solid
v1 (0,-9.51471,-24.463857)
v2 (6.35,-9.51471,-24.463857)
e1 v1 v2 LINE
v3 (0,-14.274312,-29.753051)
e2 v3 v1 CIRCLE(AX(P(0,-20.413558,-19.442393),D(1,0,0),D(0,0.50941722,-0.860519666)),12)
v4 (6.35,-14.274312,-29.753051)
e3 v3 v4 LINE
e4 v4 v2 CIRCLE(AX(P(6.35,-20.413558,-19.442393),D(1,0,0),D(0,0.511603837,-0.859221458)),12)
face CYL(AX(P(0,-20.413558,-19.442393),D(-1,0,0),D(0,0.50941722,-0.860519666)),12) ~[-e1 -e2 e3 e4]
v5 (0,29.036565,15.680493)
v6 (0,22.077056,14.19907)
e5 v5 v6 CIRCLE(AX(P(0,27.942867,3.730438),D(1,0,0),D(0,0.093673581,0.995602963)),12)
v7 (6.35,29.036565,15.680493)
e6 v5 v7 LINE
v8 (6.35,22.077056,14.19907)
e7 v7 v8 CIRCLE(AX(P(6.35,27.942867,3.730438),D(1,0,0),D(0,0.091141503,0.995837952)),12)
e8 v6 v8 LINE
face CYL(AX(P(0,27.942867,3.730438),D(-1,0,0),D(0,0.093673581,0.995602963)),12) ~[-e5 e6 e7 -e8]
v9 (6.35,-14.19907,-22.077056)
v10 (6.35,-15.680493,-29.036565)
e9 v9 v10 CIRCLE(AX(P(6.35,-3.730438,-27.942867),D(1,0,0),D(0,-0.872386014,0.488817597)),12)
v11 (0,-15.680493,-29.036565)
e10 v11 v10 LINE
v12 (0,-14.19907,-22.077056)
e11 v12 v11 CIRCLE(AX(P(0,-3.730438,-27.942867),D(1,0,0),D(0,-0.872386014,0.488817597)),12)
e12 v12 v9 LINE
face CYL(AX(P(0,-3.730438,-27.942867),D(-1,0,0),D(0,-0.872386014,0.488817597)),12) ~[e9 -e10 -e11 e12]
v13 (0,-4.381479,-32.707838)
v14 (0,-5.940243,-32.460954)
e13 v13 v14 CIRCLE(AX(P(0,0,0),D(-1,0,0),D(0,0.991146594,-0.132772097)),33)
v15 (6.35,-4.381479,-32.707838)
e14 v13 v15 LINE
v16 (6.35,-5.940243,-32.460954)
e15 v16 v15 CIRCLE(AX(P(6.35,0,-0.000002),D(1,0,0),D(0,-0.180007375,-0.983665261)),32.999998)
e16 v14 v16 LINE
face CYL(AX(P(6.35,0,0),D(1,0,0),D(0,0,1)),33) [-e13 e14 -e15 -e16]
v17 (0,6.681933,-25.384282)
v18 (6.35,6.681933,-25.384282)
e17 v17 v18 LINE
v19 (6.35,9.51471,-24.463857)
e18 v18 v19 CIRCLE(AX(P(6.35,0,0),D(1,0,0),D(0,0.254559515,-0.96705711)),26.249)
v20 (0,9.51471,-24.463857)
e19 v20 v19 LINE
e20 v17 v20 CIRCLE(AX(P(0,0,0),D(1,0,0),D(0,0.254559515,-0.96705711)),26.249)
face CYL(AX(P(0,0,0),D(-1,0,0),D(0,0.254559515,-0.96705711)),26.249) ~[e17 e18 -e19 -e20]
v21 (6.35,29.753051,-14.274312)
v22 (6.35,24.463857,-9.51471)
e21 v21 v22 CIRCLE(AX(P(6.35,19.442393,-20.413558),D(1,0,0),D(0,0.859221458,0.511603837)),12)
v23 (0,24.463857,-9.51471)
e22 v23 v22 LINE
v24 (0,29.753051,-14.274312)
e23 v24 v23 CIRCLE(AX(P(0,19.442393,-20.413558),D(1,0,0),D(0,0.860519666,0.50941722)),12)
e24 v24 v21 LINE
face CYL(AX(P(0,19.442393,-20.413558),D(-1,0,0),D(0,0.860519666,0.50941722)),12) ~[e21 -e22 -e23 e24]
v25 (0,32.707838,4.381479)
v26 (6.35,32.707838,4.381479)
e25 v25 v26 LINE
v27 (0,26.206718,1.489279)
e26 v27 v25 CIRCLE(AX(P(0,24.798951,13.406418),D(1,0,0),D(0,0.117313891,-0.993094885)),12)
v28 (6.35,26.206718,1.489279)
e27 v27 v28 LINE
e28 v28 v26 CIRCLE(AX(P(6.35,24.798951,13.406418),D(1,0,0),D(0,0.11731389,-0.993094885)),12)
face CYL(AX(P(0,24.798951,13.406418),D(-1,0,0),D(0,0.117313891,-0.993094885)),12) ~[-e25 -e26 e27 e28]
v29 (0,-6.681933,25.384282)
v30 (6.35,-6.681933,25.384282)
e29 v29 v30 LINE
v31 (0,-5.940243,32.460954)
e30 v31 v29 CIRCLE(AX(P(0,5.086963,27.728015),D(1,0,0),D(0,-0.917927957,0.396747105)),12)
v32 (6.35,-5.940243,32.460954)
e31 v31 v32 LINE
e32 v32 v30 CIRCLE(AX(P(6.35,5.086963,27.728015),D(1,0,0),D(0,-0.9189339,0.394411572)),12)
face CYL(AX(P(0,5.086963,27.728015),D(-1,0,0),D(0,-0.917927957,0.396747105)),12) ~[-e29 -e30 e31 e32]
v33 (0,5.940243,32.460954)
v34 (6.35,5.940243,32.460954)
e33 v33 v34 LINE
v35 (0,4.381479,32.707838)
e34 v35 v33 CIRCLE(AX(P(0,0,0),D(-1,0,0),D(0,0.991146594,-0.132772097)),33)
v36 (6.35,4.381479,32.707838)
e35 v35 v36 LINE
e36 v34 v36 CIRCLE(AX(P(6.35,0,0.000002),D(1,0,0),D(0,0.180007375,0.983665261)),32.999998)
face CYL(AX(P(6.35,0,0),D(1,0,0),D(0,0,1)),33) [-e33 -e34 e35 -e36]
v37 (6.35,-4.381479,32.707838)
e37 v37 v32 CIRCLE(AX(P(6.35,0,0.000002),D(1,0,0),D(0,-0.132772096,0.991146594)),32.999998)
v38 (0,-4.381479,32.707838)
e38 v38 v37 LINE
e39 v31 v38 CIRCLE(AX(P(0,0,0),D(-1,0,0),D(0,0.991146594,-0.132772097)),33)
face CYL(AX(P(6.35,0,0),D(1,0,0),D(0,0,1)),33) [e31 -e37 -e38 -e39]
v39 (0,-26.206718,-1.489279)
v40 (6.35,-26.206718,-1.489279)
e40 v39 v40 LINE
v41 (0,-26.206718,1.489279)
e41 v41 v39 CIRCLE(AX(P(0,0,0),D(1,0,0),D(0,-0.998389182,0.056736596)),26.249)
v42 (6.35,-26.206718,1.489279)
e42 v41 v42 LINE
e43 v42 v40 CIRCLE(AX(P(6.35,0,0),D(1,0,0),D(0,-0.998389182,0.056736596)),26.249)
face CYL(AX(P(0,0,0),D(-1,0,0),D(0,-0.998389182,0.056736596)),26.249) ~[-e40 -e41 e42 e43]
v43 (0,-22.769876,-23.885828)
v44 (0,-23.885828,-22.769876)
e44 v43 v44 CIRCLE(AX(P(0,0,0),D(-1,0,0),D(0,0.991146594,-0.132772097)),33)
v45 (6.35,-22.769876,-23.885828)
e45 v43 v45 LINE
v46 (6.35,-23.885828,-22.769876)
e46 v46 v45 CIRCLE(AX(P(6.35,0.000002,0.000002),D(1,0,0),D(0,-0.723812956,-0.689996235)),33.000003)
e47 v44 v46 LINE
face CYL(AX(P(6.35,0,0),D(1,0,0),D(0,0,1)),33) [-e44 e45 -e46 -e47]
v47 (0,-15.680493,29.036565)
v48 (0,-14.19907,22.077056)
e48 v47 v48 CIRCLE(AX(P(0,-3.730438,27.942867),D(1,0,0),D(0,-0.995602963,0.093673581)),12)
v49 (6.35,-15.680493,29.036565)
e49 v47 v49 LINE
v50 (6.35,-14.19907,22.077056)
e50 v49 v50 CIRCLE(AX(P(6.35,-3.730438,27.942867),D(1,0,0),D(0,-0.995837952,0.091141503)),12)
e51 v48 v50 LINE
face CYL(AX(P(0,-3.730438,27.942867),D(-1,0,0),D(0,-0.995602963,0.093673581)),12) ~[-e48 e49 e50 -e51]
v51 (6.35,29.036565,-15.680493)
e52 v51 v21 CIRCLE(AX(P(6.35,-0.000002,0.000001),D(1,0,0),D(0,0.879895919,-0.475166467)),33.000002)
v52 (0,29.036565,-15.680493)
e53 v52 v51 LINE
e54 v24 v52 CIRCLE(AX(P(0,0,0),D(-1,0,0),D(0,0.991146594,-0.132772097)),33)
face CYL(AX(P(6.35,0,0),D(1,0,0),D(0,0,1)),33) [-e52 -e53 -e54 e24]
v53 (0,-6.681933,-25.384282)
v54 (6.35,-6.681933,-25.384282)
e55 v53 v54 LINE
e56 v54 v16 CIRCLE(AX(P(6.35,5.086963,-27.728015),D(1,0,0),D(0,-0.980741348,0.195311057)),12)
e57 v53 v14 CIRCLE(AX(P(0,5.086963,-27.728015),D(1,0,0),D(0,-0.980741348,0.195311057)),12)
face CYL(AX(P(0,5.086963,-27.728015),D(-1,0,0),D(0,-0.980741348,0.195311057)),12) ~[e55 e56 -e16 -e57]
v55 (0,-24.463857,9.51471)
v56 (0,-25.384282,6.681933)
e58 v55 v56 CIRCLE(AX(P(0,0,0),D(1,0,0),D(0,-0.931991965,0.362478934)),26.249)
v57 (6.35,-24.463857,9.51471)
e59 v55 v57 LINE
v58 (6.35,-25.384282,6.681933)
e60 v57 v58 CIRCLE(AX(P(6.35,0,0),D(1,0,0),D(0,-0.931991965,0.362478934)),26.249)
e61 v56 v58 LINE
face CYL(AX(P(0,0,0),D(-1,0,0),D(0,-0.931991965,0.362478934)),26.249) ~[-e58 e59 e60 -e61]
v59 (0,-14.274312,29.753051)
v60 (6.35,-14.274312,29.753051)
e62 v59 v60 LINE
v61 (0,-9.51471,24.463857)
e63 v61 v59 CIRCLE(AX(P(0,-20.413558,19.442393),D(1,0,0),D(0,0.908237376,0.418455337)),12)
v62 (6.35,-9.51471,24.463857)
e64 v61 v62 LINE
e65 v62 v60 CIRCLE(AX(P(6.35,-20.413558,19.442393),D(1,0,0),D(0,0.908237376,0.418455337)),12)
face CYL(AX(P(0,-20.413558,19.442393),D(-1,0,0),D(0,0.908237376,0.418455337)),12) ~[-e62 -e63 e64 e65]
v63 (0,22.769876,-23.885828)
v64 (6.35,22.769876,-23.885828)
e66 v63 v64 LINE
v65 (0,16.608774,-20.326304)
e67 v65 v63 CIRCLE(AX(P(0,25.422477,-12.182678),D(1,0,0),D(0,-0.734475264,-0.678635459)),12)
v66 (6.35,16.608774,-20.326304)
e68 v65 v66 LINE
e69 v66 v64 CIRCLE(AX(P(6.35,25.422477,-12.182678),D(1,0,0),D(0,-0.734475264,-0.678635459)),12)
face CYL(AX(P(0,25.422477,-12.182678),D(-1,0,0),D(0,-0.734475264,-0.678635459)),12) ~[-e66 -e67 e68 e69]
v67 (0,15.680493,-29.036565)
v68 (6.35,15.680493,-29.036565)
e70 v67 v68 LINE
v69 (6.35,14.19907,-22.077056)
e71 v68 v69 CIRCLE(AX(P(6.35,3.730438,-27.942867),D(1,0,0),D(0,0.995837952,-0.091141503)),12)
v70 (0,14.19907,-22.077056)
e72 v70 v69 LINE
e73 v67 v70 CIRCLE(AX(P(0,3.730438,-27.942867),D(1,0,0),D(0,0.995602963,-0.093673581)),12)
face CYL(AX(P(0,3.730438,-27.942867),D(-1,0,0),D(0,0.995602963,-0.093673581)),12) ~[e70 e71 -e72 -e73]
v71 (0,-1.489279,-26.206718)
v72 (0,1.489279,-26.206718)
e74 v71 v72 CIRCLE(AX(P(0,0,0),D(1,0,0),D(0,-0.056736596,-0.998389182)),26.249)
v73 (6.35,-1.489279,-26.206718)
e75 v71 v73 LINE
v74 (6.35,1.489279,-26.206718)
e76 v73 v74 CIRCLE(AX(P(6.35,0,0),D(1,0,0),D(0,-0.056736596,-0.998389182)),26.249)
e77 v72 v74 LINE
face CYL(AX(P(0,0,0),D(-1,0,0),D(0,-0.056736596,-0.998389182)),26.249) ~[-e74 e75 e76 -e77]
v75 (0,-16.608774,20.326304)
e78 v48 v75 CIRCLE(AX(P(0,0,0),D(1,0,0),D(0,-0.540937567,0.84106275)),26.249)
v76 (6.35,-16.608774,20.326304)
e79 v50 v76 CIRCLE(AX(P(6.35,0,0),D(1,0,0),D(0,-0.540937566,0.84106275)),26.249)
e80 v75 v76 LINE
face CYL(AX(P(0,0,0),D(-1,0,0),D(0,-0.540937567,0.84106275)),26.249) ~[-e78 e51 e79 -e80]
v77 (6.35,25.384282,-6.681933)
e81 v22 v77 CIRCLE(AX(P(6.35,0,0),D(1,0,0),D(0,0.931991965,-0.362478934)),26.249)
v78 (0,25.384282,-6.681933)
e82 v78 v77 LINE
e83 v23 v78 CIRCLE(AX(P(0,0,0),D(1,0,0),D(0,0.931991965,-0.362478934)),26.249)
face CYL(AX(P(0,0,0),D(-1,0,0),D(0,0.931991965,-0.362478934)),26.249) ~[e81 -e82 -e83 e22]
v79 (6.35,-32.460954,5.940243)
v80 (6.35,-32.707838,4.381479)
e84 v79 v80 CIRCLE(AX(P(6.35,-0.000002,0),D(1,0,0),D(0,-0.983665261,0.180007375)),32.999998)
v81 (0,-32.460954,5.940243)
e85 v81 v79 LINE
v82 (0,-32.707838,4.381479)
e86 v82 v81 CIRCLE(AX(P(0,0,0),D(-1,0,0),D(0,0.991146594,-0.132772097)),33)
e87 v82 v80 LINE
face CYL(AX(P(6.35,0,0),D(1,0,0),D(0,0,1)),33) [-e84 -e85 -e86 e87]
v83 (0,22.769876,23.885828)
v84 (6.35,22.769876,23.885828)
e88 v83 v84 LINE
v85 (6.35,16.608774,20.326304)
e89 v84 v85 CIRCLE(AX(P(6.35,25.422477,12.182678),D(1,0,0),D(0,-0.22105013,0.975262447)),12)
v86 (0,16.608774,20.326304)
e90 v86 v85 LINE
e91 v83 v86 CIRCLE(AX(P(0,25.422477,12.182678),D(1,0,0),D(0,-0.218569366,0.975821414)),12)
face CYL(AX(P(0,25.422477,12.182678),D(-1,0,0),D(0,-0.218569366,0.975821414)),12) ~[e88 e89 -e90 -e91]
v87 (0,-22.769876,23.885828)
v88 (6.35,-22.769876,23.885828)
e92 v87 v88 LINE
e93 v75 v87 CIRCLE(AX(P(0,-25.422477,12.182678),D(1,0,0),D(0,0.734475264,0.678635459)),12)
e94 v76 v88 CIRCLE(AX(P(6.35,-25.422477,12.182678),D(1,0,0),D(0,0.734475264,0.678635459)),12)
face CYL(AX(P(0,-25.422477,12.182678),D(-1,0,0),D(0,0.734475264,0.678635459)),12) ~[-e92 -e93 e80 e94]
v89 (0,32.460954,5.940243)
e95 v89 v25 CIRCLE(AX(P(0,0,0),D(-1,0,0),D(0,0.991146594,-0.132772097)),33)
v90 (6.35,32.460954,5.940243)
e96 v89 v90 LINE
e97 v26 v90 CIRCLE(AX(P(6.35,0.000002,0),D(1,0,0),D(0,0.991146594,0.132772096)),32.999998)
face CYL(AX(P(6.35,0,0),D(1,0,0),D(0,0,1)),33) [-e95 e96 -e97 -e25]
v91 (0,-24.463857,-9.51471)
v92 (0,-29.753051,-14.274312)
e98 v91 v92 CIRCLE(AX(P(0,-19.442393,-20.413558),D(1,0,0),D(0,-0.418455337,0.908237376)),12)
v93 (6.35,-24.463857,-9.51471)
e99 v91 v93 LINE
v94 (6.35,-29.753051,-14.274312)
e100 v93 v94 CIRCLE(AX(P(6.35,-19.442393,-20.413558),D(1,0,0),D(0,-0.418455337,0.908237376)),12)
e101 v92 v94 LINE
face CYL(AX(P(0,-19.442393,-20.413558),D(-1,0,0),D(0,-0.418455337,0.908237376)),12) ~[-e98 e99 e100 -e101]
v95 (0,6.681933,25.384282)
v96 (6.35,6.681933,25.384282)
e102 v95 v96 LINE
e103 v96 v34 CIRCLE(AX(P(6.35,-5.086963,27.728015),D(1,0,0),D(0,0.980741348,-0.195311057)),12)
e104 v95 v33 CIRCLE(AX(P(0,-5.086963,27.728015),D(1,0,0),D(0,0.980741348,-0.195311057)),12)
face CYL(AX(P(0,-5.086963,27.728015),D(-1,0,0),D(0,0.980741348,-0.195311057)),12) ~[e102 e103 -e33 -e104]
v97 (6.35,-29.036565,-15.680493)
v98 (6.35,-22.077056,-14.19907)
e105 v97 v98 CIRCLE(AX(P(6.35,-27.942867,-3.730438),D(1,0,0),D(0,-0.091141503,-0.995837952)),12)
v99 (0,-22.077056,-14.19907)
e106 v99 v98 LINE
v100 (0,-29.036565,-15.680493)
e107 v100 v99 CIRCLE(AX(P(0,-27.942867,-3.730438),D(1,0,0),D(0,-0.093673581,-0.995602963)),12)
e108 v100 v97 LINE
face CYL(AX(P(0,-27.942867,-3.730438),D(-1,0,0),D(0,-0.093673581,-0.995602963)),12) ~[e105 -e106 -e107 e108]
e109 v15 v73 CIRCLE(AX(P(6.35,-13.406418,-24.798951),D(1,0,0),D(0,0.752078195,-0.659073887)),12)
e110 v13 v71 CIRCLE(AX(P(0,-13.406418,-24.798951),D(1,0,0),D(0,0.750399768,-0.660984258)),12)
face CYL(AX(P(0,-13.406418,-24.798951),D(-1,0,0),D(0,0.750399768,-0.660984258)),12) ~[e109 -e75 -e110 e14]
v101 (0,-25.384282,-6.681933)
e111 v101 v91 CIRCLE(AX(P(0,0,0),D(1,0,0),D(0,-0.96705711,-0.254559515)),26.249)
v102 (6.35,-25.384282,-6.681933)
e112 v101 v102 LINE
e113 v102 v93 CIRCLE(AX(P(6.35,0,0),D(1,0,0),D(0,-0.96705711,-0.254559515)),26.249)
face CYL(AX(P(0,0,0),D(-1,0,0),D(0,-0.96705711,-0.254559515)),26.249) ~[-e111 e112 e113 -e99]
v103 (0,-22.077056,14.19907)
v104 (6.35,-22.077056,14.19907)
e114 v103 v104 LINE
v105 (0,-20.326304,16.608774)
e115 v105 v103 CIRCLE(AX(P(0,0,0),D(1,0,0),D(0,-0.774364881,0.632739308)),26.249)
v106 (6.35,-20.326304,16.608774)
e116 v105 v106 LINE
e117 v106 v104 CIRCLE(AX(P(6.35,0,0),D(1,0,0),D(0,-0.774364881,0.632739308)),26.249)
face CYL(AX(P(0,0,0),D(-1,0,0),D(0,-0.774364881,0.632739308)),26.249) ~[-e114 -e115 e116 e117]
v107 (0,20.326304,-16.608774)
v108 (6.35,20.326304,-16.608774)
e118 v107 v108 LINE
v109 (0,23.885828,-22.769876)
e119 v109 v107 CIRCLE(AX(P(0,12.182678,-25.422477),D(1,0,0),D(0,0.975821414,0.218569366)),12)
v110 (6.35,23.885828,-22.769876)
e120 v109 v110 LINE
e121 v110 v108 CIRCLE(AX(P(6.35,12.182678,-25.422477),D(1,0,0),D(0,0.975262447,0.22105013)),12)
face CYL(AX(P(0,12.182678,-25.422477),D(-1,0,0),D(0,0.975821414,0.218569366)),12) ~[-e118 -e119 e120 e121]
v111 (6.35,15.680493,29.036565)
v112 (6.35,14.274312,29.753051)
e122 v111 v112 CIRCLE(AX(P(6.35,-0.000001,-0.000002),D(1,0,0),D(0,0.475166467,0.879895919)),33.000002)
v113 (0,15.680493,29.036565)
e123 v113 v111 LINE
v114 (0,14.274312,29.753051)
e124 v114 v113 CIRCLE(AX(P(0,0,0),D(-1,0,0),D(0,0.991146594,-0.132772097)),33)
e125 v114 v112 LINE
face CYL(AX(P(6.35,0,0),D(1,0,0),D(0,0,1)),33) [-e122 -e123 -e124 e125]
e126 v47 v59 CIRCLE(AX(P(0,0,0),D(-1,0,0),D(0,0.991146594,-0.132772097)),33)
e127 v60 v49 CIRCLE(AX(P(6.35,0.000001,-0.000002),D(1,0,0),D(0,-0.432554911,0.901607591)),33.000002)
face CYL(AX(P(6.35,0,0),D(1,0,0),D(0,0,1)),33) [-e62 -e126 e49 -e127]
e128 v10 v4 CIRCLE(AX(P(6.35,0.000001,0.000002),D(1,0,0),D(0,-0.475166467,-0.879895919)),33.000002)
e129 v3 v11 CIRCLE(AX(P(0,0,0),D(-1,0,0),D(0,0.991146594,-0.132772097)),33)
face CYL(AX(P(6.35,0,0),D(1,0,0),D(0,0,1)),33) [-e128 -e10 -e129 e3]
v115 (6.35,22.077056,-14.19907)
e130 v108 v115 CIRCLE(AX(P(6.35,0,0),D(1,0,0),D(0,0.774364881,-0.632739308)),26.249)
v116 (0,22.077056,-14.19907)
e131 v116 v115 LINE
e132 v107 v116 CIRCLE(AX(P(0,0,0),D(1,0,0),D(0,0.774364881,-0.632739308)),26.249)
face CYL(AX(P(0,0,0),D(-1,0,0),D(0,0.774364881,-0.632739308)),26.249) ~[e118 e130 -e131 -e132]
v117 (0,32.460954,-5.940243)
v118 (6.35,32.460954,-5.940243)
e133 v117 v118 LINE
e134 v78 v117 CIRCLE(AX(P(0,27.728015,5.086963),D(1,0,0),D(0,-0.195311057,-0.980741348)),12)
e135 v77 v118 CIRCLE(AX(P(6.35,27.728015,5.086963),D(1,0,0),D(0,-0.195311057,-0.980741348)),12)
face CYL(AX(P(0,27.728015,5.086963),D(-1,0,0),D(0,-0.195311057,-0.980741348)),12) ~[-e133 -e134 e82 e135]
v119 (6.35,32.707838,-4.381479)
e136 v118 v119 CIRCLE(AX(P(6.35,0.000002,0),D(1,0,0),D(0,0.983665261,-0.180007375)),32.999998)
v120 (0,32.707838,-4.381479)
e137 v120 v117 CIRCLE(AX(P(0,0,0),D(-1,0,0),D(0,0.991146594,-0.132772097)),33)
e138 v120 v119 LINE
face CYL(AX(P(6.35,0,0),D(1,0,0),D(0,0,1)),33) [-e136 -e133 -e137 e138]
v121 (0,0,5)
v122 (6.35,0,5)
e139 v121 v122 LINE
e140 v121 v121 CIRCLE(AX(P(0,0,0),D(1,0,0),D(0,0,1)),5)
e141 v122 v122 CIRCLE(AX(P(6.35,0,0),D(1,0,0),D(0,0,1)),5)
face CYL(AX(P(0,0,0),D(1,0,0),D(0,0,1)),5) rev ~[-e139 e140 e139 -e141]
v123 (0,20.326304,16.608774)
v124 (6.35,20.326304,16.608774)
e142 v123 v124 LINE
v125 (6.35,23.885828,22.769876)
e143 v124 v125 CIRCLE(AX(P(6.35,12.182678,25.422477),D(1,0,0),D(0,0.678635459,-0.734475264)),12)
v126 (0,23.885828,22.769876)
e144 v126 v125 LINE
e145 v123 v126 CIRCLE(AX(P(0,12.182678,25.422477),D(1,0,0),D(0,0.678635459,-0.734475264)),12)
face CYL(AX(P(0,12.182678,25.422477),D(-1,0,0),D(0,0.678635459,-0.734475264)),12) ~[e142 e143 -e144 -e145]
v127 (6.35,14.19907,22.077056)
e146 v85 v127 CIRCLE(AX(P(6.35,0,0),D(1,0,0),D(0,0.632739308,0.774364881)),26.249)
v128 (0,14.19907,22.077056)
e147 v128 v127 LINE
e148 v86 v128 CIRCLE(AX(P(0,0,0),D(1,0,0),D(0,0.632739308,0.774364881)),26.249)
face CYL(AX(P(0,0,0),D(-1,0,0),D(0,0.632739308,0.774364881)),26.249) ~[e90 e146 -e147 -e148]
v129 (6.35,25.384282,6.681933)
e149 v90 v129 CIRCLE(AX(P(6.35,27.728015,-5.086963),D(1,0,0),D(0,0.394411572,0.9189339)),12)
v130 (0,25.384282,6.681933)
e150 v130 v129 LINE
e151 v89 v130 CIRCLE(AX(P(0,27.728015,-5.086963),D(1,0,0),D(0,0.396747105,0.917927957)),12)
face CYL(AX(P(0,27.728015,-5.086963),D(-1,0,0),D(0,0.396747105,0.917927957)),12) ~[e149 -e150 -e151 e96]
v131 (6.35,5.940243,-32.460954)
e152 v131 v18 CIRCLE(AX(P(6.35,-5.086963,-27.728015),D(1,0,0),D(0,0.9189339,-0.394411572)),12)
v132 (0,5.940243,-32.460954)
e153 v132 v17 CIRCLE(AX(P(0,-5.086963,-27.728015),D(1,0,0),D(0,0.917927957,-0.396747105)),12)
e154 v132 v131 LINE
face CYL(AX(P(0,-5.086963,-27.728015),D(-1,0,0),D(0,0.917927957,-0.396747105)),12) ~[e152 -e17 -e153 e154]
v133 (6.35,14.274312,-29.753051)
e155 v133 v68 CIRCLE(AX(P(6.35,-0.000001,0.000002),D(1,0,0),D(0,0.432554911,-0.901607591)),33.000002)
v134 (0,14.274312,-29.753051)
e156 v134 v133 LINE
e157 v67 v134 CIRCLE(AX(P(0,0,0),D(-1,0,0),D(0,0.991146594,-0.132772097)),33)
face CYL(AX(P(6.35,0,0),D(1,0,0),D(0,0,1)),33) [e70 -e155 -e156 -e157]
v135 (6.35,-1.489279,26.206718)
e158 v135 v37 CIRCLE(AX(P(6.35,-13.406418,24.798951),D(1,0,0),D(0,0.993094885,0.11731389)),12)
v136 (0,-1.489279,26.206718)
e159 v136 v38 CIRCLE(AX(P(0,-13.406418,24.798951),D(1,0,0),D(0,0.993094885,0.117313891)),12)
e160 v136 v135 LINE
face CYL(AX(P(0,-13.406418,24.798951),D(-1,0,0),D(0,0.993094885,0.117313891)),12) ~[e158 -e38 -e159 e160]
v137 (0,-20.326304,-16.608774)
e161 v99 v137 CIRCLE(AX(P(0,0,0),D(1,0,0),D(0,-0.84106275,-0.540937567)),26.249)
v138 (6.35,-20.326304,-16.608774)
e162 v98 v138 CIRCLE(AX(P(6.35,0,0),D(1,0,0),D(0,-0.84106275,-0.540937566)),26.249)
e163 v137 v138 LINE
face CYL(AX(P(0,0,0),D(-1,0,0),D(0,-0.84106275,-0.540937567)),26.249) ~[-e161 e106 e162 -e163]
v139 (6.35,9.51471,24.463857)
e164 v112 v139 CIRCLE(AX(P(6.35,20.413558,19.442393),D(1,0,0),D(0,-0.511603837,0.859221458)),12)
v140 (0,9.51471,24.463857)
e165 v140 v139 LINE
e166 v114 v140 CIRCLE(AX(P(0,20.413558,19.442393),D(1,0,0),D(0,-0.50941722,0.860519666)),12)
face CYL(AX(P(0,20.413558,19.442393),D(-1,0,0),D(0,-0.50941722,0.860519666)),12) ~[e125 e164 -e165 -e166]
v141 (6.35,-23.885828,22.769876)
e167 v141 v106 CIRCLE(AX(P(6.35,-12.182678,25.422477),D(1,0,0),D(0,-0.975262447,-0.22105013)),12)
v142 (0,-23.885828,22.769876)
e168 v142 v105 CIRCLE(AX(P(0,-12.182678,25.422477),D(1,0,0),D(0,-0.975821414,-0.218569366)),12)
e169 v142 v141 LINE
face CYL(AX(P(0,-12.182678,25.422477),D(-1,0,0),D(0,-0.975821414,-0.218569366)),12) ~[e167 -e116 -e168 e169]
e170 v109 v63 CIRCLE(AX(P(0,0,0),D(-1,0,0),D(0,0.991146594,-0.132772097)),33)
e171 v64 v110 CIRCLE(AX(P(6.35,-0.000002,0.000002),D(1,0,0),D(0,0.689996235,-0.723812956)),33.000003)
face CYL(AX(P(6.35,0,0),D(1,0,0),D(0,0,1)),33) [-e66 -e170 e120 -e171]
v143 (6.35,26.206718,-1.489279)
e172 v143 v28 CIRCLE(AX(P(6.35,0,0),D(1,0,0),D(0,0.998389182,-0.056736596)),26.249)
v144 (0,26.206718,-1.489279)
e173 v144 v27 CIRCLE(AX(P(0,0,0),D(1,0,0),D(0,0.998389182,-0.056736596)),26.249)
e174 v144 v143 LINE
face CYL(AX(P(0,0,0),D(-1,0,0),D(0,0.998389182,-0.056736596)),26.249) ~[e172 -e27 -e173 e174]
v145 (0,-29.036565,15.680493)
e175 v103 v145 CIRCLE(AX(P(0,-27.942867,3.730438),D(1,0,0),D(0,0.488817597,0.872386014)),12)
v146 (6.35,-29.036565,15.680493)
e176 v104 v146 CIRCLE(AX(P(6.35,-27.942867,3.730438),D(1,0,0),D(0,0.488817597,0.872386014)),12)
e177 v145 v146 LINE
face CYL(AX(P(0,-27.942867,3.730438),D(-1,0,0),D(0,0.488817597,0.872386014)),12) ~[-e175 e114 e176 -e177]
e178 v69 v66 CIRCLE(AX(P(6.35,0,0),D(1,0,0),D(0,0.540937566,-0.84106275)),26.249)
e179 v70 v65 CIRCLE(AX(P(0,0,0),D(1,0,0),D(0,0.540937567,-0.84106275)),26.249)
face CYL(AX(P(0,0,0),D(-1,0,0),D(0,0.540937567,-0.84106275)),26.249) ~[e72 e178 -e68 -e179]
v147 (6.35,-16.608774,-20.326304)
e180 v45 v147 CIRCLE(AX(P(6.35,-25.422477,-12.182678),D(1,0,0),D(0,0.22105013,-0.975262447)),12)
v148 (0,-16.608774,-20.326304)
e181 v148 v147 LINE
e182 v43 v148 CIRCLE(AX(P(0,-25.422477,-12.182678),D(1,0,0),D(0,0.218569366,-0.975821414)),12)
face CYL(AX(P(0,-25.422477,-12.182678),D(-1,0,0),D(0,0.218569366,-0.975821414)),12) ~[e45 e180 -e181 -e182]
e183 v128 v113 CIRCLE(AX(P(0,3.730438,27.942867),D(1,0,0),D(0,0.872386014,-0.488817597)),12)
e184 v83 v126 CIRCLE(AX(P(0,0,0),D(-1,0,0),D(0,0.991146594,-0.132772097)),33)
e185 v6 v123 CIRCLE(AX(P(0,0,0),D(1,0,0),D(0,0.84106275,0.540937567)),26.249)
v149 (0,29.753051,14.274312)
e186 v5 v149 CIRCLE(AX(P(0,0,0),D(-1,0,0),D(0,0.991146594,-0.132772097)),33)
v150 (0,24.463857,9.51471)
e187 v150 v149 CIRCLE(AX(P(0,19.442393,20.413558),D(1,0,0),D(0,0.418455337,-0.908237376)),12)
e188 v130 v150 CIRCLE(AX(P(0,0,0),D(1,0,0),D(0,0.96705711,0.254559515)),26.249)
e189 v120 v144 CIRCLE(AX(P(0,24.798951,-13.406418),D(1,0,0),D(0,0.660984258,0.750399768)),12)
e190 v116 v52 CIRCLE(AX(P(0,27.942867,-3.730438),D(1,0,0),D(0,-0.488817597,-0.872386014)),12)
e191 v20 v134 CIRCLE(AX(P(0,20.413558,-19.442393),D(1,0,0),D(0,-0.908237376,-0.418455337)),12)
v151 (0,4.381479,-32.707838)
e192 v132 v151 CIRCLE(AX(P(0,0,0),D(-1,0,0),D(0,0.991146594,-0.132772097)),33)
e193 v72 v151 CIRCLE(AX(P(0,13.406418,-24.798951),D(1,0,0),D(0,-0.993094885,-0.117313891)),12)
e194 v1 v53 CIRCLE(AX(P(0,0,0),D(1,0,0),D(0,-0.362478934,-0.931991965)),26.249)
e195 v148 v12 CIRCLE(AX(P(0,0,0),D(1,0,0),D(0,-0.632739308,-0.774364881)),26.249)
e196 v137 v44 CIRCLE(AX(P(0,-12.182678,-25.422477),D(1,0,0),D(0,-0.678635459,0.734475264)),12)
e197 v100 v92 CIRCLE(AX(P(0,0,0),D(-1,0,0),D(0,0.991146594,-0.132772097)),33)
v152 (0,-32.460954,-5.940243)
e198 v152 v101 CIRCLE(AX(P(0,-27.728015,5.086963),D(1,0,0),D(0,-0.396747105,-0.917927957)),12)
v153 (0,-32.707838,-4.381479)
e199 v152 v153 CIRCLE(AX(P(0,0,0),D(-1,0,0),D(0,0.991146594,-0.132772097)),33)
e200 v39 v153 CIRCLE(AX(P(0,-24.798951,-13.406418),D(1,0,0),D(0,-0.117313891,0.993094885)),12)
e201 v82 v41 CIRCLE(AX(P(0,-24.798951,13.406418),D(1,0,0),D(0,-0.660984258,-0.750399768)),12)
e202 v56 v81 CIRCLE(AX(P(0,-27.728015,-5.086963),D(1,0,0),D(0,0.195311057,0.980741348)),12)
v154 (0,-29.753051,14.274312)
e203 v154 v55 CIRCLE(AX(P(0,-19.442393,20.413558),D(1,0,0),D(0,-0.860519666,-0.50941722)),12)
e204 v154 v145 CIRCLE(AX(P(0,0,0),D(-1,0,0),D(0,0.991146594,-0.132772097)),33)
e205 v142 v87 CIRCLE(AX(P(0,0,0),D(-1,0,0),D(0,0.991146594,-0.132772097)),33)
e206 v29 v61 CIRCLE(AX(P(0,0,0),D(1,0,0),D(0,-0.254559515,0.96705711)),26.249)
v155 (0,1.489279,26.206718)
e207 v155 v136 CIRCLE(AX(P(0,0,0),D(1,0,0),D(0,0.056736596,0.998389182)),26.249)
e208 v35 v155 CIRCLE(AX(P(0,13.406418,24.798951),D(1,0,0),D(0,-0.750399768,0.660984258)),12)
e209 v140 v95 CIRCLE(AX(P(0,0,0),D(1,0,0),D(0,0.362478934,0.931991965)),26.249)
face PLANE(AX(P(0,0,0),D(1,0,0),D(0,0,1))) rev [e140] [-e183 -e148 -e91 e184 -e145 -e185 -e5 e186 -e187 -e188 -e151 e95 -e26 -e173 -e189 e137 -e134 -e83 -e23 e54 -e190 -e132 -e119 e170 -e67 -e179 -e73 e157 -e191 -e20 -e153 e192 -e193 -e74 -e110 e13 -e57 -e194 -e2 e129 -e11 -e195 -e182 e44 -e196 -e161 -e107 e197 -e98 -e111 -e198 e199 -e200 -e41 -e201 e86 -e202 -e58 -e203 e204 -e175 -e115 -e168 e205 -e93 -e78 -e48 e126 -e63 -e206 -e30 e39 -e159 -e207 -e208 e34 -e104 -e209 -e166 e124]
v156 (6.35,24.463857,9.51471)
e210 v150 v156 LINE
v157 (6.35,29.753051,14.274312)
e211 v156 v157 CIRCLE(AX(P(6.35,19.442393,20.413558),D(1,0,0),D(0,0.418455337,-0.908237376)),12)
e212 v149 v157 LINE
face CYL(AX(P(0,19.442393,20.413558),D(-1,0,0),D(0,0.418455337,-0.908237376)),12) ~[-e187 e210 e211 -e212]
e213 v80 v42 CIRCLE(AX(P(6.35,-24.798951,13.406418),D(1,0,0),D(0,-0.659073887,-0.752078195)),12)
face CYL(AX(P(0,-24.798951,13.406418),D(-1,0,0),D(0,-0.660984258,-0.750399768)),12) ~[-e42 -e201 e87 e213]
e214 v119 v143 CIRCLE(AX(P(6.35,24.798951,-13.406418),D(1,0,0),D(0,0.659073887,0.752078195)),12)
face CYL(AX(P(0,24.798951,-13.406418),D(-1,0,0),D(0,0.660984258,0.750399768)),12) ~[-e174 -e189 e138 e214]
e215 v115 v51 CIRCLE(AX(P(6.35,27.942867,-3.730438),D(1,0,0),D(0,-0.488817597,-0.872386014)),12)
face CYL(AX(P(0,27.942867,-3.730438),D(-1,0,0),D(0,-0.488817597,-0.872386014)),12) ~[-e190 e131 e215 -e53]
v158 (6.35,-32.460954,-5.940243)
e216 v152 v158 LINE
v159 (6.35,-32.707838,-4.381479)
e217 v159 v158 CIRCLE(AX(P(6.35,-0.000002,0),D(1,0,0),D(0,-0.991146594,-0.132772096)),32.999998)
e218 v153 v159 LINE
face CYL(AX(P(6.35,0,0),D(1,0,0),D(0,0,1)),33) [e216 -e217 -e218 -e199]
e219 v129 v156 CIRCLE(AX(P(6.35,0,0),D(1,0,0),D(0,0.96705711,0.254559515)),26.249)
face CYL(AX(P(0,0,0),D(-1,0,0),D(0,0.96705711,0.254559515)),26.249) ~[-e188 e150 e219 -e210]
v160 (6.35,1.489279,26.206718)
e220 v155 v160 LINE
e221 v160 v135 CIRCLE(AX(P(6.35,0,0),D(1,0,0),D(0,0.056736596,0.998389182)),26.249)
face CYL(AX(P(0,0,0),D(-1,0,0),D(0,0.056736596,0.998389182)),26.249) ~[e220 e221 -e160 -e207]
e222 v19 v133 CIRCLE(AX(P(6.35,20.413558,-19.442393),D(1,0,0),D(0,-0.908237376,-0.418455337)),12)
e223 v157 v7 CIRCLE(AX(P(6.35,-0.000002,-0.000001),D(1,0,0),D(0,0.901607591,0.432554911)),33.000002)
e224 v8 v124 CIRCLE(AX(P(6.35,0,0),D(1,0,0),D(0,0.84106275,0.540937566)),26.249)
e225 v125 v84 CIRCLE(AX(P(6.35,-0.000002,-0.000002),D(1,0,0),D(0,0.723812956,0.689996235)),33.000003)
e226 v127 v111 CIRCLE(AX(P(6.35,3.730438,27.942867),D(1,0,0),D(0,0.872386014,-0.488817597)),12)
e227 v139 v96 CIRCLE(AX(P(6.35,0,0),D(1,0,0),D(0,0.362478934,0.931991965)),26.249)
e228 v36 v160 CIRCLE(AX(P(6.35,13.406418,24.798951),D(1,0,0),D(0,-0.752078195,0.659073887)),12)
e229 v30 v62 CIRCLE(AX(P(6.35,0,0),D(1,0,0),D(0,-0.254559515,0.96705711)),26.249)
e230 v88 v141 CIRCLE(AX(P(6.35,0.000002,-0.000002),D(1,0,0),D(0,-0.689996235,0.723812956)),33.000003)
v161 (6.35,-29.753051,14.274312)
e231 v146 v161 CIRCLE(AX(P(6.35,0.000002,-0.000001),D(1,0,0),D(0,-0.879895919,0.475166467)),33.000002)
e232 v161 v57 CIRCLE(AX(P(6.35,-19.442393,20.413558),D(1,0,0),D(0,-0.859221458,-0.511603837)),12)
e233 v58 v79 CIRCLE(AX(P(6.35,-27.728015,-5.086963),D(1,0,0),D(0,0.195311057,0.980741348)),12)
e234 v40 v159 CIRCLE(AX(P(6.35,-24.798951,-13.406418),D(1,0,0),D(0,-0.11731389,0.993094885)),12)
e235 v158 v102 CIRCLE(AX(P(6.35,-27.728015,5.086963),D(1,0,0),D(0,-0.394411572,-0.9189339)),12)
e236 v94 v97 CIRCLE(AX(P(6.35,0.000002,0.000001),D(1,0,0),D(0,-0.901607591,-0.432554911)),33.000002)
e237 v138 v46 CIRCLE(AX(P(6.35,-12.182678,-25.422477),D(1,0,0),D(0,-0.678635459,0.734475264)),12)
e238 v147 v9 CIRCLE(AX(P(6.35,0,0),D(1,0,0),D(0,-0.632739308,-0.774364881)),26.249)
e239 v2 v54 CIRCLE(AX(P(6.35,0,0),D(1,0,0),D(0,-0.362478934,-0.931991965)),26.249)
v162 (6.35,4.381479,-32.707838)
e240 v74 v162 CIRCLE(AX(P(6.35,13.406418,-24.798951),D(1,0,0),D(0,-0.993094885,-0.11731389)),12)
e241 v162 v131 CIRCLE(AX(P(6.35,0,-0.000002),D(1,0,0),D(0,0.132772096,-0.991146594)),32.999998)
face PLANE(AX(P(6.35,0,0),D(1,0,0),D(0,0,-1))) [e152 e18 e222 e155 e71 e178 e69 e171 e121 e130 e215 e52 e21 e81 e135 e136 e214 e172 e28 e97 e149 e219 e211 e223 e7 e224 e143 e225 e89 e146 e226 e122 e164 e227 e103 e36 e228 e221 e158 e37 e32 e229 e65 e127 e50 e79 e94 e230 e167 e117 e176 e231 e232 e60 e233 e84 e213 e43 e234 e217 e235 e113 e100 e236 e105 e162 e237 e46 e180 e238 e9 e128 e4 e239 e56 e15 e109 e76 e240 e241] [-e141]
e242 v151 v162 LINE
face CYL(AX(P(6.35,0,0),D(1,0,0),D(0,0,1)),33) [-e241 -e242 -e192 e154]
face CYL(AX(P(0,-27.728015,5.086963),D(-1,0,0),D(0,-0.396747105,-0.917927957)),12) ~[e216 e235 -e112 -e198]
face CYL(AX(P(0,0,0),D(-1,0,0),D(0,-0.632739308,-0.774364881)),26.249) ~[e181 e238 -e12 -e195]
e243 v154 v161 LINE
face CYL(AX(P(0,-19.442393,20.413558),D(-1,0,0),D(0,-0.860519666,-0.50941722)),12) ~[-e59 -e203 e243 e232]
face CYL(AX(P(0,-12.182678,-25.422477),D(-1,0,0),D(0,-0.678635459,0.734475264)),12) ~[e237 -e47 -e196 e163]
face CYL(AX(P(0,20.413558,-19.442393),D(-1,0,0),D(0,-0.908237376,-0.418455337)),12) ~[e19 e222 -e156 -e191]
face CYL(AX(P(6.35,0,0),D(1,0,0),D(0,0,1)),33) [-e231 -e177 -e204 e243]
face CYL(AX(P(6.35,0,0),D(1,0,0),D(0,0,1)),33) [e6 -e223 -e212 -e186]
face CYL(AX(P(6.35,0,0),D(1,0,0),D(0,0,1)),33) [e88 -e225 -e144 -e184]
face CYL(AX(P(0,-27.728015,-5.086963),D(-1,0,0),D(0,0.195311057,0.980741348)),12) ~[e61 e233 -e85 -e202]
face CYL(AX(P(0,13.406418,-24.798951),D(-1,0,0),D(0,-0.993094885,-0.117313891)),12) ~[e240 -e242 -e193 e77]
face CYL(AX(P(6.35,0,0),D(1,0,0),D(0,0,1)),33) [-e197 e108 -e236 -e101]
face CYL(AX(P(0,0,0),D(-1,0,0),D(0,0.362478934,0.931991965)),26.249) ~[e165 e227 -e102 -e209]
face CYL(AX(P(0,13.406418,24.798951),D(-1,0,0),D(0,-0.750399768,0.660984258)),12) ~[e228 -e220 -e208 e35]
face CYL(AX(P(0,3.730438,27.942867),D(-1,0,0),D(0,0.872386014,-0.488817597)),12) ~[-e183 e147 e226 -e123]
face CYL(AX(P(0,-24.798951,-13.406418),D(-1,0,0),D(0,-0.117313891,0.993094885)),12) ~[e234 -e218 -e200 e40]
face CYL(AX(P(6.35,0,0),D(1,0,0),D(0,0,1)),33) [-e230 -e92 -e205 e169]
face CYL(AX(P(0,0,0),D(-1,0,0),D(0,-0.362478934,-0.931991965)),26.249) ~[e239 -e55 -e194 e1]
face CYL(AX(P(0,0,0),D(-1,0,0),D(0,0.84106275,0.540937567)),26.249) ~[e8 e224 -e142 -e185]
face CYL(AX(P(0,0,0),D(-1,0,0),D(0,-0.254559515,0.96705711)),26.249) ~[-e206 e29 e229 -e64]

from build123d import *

# Parameters (mm, degrees)
BASPROSKE_W        = 12.7
BASPROSKE_H        = 33
TOOTHCUT_DEPTH     = 49.366207211
TEETHCUTS_COUNT    = 20
TEETHCUTS_ANGLE    = 342
BORSKE_R           = 5
BORE_DEPTH         = 50.0000508
CUT_EXTRUDE1_START = -6.35
CUT_EXTRUDE1_DEPTH = 6.35


with BuildPart() as part:
    # BasProSke → Base-Revolve (revolve)
    with BuildSketch(Plane(origin=(0, 0, 0), x_dir=(1, 0, 0), z_dir=(0, 1, 0)), mode=Mode.PRIVATE) as base_revolve_sk:
        with Locations((6.35, 16.5)):
            Rectangle(BASPROSKE_W, BASPROSKE_H)
    revolve(base_revolve_sk.sketch.rotate(Axis((-10, 0, 0), (1, 0, 0)), 180), axis=Axis((-10, 0, 0), (1, 0, 0)))

    # TooCutSke → ToothCut (cut, through all)
    with BuildSketch(Plane(origin=(0, 0, 0), x_dir=(0, 0, -1), z_dir=(1, 0, 0))):
        with BuildLine():
            ThreePointArc((1.489278925, 26.206717637), (0, 26.249), (-1.489278925, 26.206717637))
            ThreePointArc((-1.489278925, 26.206717637), (-2.448651415, 29.690511169), (-4.401620335, 32.730762038))
            ThreePointArc((-4.401620335, 32.730762038), (0, 33.0254), (4.401620335, 32.730762038))
            ThreePointArc((4.401620335, 32.730762038), (2.448651415, 29.690511169), (1.489278925, 26.206717637))
        make_face()
    toothcut = extrude(amount=TOOTHCUT_DEPTH, mode=Mode.SUBTRACT)

    # TeethCuts: ToothCut ×20 about axis
    teethcuts_axis = Axis((-10, 0, 0), (1, 0, 0))
    for i in range(1, TEETHCUTS_COUNT):
        add(toothcut.rotate(teethcuts_axis, i * TEETHCUTS_ANGLE / (TEETHCUTS_COUNT - 1)), mode=Mode.SUBTRACT)

    # BorSke → Bore (cut, symmetric)
    with BuildSketch(Plane(origin=(0, 0, 0), x_dir=(0, 0, -1), z_dir=(1, 0, 0))):
        with Locations(Location((0, 0, 0), (0, 0, 180))):
            Circle(BORSKE_R)
    extrude(amount=BORE_DEPTH, both=True, mode=Mode.SUBTRACT)

    # Sketch1 → Cut-Extrude1 (cut)
    with BuildSketch(Plane(origin=(12.7, 0, 0), x_dir=(0, 0, -1), z_dir=(1, 0, 0)).offset(CUT_EXTRUDE1_START)):
        with BuildLine():
            ThreePointArc((-32.707837592, 4.381479207), (-29.676574647, 2.442440757), (-26.206717637, 1.489278925))
            ThreePointArc((-26.206717637, 1.489278925), (-26.249, 0), (-26.206717637, -1.489278925))
            ThreePointArc((-26.206717637, -1.489278925), (-29.676574647, -2.442440757), (-32.707837592, -4.381479207))
            ThreePointArc((-32.707837592, -4.381479207), (-32.59371524, -5.162337346), (-32.460953611, -5.940243315))
            ThreePointArc((-32.460953611, -5.940243315), (-28.978855401, -6.847666703), (-25.384282076, -6.68193269))
            ThreePointArc((-25.384282076, -6.68193269), (-24.964282496, -8.111387085), (-24.463857082, -9.514709543))
            ThreePointArc((-24.463857082, -9.514709543), (-27.469343998, -11.493465099), (-29.753050541, -14.274312016))
            ThreePointArc((-29.753050541, -14.274312016), (-29.403215298, -14.981686491), (-29.036565322, -15.680493433))
            ThreePointArc((-29.036565322, -15.680493433), (-25.444483881, -15.467476836), (-22.077056123, -14.199070178))
            ThreePointArc((-22.077056123, -14.199070178), (-21.235887085, -15.428775087), (-20.326303746, -16.608774097))
            ThreePointArc((-20.326303746, -16.608774097), (-22.573222567, -19.419428996), (-23.885827601, -22.76987571))
            ThreePointArc((-23.885827601, -22.76987571), (-23.334523779, -23.334523779), (-22.76987571, -23.885827601))
            ThreePointArc((-22.76987571, -23.885827601), (-19.419428996, -22.573222567), (-16.608774097, -20.326303746))
            ThreePointArc((-16.608774097, -20.326303746), (-15.428775087, -21.235887085), (-14.199070178, -22.077056123))
            ThreePointArc((-14.199070178, -22.077056123), (-15.467476836, -25.444483881), (-15.680493433, -29.036565322))
            ThreePointArc((-15.680493433, -29.036565322), (-14.981686491, -29.403215298), (-14.274312016, -29.753050541))
            ThreePointArc((-14.274312016, -29.753050541), (-11.493465099, -27.469343998), (-9.514709543, -24.463857082))
            ThreePointArc((-9.514709543, -24.463857082), (-8.111387085, -24.964282496), (-6.68193269, -25.384282076))
            ThreePointArc((-6.68193269, -25.384282076), (-6.847666703, -28.978855401), (-5.940243315, -32.460953611))
            ThreePointArc((-5.940243315, -32.460953611), (-5.162337346, -32.59371524), (-4.381479207, -32.707837592))
            ThreePointArc((-4.381479207, -32.707837592), (-2.442440757, -29.676574647), (-1.489278925, -26.206717637))
            ThreePointArc((-1.489278925, -26.206717637), (0, -26.249), (1.489278925, -26.206717637))
            ThreePointArc((1.489278925, -26.206717637), (2.442440757, -29.676574647), (4.381479207, -32.707837592))
            ThreePointArc((4.381479207, -32.707837592), (5.162337346, -32.59371524), (5.940243315, -32.460953611))
            ThreePointArc((5.940243315, -32.460953611), (6.847666703, -28.978855401), (6.68193269, -25.384282076))
            ThreePointArc((6.68193269, -25.384282076), (8.111387085, -24.964282496), (9.514709543, -24.463857082))
            ThreePointArc((9.514709543, -24.463857082), (11.493465099, -27.469343998), (14.274312016, -29.753050541))
            ThreePointArc((14.274312016, -29.753050541), (14.981686491, -29.403215298), (15.680493433, -29.036565322))
            ThreePointArc((15.680493433, -29.036565322), (15.467476836, -25.444483881), (14.199070178, -22.077056123))
            ThreePointArc((14.199070178, -22.077056123), (15.428775087, -21.235887085), (16.608774097, -20.326303746))
            ThreePointArc((16.608774097, -20.326303746), (19.419428996, -22.573222567), (22.76987571, -23.885827601))
            ThreePointArc((22.76987571, -23.885827601), (23.334523779, -23.334523779), (23.885827601, -22.76987571))
            ThreePointArc((23.885827601, -22.76987571), (22.573222567, -19.419428996), (20.326303746, -16.608774097))
            ThreePointArc((20.326303746, -16.608774097), (21.235887085, -15.428775087), (22.077056123, -14.199070178))
            ThreePointArc((22.077056123, -14.199070178), (25.444483881, -15.467476836), (29.036565322, -15.680493433))
            ThreePointArc((29.036565322, -15.680493433), (29.403215298, -14.981686491), (29.753050541, -14.274312016))
            ThreePointArc((29.753050541, -14.274312016), (27.469343998, -11.493465099), (24.463857082, -9.514709543))
            ThreePointArc((24.463857082, -9.514709543), (24.964282496, -8.111387085), (25.384282076, -6.68193269))
            ThreePointArc((25.384282076, -6.68193269), (28.978855401, -6.847666703), (32.460953611, -5.940243315))
            ThreePointArc((32.460953611, -5.940243315), (32.59371524, -5.162337346), (32.707837592, -4.381479207))
            ThreePointArc((32.707837592, -4.381479207), (29.676574647, -2.442440757), (26.206717637, -1.489278925))
            ThreePointArc((26.206717637, -1.489278925), (26.249, 0), (26.206717637, 1.489278925))
            ThreePointArc((26.206717637, 1.489278925), (29.676574647, 2.442440757), (32.707837592, 4.381479207))
            ThreePointArc((32.707837592, 4.381479207), (32.59371524, 5.162337346), (32.460953611, 5.940243315))
            ThreePointArc((32.460953611, 5.940243315), (28.978855401, 6.847666703), (25.384282076, 6.68193269))
            ThreePointArc((25.384282076, 6.68193269), (24.964282496, 8.111387085), (24.463857082, 9.514709543))
            ThreePointArc((24.463857082, 9.514709543), (27.469343998, 11.493465099), (29.753050541, 14.274312016))
            ThreePointArc((29.753050541, 14.274312016), (29.403215298, 14.981686491), (29.036565322, 15.680493433))
            ThreePointArc((29.036565322, 15.680493433), (25.444483881, 15.467476836), (22.077056123, 14.199070178))
            ThreePointArc((22.077056123, 14.199070178), (21.235887085, 15.428775087), (20.326303746, 16.608774097))
            ThreePointArc((20.326303746, 16.608774097), (22.573222567, 19.419428996), (23.885827601, 22.76987571))
            ThreePointArc((23.885827601, 22.76987571), (23.334523779, 23.334523779), (22.76987571, 23.885827601))
            ThreePointArc((22.76987571, 23.885827601), (19.419428996, 22.573222567), (16.608774097, 20.326303746))
            ThreePointArc((16.608774097, 20.326303746), (15.428775087, 21.235887085), (14.199070178, 22.077056123))
            ThreePointArc((14.199070178, 22.077056123), (15.467476836, 25.444483881), (15.680493433, 29.036565322))
            ThreePointArc((15.680493433, 29.036565322), (14.981686491, 29.403215298), (14.274312016, 29.753050541))
            ThreePointArc((14.274312016, 29.753050541), (11.493465099, 27.469343998), (9.514709543, 24.463857082))
            ThreePointArc((9.514709543, 24.463857082), (8.111387085, 24.964282496), (6.68193269, 25.384282076))
            ThreePointArc((6.68193269, 25.384282076), (6.847666703, 28.978855401), (5.940243315, 32.460953611))
            ThreePointArc((5.940243315, 32.460953611), (5.162337346, 32.59371524), (4.381479207, 32.707837592))
            ThreePointArc((4.381479207, 32.707837592), (2.442440757, 29.676574647), (1.489278925, 26.206717637))
            ThreePointArc((1.489278925, 26.206717637), (0, 26.249), (-1.489278925, 26.206717637))
            ThreePointArc((-1.489278925, 26.206717637), (-2.442440757, 29.676574647), (-4.381479207, 32.707837592))
            ThreePointArc((-4.381479207, 32.707837592), (-5.162337346, 32.59371524), (-5.940243315, 32.460953611))
            ThreePointArc((-5.940243315, 32.460953611), (-6.847666703, 28.978855401), (-6.68193269, 25.384282076))
            ThreePointArc((-6.68193269, 25.384282076), (-8.111387085, 24.964282496), (-9.514709543, 24.463857082))
            ThreePointArc((-9.514709543, 24.463857082), (-11.493465099, 27.469343998), (-14.274312016, 29.753050541))
            ThreePointArc((-14.274312016, 29.753050541), (-14.981686491, 29.403215298), (-15.680493433, 29.036565322))
            ThreePointArc((-15.680493433, 29.036565322), (-15.467476836, 25.444483881), (-14.199070178, 22.077056123))
            ThreePointArc((-14.199070178, 22.077056123), (-15.428775087, 21.235887085), (-16.608774097, 20.326303746))
            ThreePointArc((-16.608774097, 20.326303746), (-19.419428996, 22.573222567), (-22.76987571, 23.885827601))
            ThreePointArc((-22.76987571, 23.885827601), (-23.334523779, 23.334523779), (-23.885827601, 22.76987571))
            ThreePointArc((-23.885827601, 22.76987571), (-22.573222567, 19.419428996), (-20.326303746, 16.608774097))
            ThreePointArc((-20.326303746, 16.608774097), (-21.235887085, 15.428775087), (-22.077056123, 14.199070178))
            ThreePointArc((-22.077056123, 14.199070178), (-25.444483881, 15.467476836), (-29.036565322, 15.680493433))
            ThreePointArc((-29.036565322, 15.680493433), (-29.403215298, 14.981686491), (-29.753050541, 14.274312016))
            ThreePointArc((-29.753050541, 14.274312016), (-27.469343998, 11.493465099), (-24.463857082, 9.514709543))
            ThreePointArc((-24.463857082, 9.514709543), (-24.964282496, 8.111387085), (-25.384282076, 6.68193269))
            ThreePointArc((-25.384282076, 6.68193269), (-28.978855401, 6.847666703), (-32.460953611, 5.940243315))
            ThreePointArc((-32.460953611, 5.940243315), (-32.59371524, 5.162337346), (-32.707837592, 4.381479207))
        make_face()
    extrude(amount=CUT_EXTRUDE1_DEPTH, mode=Mode.SUBTRACT)


solid = part.part
